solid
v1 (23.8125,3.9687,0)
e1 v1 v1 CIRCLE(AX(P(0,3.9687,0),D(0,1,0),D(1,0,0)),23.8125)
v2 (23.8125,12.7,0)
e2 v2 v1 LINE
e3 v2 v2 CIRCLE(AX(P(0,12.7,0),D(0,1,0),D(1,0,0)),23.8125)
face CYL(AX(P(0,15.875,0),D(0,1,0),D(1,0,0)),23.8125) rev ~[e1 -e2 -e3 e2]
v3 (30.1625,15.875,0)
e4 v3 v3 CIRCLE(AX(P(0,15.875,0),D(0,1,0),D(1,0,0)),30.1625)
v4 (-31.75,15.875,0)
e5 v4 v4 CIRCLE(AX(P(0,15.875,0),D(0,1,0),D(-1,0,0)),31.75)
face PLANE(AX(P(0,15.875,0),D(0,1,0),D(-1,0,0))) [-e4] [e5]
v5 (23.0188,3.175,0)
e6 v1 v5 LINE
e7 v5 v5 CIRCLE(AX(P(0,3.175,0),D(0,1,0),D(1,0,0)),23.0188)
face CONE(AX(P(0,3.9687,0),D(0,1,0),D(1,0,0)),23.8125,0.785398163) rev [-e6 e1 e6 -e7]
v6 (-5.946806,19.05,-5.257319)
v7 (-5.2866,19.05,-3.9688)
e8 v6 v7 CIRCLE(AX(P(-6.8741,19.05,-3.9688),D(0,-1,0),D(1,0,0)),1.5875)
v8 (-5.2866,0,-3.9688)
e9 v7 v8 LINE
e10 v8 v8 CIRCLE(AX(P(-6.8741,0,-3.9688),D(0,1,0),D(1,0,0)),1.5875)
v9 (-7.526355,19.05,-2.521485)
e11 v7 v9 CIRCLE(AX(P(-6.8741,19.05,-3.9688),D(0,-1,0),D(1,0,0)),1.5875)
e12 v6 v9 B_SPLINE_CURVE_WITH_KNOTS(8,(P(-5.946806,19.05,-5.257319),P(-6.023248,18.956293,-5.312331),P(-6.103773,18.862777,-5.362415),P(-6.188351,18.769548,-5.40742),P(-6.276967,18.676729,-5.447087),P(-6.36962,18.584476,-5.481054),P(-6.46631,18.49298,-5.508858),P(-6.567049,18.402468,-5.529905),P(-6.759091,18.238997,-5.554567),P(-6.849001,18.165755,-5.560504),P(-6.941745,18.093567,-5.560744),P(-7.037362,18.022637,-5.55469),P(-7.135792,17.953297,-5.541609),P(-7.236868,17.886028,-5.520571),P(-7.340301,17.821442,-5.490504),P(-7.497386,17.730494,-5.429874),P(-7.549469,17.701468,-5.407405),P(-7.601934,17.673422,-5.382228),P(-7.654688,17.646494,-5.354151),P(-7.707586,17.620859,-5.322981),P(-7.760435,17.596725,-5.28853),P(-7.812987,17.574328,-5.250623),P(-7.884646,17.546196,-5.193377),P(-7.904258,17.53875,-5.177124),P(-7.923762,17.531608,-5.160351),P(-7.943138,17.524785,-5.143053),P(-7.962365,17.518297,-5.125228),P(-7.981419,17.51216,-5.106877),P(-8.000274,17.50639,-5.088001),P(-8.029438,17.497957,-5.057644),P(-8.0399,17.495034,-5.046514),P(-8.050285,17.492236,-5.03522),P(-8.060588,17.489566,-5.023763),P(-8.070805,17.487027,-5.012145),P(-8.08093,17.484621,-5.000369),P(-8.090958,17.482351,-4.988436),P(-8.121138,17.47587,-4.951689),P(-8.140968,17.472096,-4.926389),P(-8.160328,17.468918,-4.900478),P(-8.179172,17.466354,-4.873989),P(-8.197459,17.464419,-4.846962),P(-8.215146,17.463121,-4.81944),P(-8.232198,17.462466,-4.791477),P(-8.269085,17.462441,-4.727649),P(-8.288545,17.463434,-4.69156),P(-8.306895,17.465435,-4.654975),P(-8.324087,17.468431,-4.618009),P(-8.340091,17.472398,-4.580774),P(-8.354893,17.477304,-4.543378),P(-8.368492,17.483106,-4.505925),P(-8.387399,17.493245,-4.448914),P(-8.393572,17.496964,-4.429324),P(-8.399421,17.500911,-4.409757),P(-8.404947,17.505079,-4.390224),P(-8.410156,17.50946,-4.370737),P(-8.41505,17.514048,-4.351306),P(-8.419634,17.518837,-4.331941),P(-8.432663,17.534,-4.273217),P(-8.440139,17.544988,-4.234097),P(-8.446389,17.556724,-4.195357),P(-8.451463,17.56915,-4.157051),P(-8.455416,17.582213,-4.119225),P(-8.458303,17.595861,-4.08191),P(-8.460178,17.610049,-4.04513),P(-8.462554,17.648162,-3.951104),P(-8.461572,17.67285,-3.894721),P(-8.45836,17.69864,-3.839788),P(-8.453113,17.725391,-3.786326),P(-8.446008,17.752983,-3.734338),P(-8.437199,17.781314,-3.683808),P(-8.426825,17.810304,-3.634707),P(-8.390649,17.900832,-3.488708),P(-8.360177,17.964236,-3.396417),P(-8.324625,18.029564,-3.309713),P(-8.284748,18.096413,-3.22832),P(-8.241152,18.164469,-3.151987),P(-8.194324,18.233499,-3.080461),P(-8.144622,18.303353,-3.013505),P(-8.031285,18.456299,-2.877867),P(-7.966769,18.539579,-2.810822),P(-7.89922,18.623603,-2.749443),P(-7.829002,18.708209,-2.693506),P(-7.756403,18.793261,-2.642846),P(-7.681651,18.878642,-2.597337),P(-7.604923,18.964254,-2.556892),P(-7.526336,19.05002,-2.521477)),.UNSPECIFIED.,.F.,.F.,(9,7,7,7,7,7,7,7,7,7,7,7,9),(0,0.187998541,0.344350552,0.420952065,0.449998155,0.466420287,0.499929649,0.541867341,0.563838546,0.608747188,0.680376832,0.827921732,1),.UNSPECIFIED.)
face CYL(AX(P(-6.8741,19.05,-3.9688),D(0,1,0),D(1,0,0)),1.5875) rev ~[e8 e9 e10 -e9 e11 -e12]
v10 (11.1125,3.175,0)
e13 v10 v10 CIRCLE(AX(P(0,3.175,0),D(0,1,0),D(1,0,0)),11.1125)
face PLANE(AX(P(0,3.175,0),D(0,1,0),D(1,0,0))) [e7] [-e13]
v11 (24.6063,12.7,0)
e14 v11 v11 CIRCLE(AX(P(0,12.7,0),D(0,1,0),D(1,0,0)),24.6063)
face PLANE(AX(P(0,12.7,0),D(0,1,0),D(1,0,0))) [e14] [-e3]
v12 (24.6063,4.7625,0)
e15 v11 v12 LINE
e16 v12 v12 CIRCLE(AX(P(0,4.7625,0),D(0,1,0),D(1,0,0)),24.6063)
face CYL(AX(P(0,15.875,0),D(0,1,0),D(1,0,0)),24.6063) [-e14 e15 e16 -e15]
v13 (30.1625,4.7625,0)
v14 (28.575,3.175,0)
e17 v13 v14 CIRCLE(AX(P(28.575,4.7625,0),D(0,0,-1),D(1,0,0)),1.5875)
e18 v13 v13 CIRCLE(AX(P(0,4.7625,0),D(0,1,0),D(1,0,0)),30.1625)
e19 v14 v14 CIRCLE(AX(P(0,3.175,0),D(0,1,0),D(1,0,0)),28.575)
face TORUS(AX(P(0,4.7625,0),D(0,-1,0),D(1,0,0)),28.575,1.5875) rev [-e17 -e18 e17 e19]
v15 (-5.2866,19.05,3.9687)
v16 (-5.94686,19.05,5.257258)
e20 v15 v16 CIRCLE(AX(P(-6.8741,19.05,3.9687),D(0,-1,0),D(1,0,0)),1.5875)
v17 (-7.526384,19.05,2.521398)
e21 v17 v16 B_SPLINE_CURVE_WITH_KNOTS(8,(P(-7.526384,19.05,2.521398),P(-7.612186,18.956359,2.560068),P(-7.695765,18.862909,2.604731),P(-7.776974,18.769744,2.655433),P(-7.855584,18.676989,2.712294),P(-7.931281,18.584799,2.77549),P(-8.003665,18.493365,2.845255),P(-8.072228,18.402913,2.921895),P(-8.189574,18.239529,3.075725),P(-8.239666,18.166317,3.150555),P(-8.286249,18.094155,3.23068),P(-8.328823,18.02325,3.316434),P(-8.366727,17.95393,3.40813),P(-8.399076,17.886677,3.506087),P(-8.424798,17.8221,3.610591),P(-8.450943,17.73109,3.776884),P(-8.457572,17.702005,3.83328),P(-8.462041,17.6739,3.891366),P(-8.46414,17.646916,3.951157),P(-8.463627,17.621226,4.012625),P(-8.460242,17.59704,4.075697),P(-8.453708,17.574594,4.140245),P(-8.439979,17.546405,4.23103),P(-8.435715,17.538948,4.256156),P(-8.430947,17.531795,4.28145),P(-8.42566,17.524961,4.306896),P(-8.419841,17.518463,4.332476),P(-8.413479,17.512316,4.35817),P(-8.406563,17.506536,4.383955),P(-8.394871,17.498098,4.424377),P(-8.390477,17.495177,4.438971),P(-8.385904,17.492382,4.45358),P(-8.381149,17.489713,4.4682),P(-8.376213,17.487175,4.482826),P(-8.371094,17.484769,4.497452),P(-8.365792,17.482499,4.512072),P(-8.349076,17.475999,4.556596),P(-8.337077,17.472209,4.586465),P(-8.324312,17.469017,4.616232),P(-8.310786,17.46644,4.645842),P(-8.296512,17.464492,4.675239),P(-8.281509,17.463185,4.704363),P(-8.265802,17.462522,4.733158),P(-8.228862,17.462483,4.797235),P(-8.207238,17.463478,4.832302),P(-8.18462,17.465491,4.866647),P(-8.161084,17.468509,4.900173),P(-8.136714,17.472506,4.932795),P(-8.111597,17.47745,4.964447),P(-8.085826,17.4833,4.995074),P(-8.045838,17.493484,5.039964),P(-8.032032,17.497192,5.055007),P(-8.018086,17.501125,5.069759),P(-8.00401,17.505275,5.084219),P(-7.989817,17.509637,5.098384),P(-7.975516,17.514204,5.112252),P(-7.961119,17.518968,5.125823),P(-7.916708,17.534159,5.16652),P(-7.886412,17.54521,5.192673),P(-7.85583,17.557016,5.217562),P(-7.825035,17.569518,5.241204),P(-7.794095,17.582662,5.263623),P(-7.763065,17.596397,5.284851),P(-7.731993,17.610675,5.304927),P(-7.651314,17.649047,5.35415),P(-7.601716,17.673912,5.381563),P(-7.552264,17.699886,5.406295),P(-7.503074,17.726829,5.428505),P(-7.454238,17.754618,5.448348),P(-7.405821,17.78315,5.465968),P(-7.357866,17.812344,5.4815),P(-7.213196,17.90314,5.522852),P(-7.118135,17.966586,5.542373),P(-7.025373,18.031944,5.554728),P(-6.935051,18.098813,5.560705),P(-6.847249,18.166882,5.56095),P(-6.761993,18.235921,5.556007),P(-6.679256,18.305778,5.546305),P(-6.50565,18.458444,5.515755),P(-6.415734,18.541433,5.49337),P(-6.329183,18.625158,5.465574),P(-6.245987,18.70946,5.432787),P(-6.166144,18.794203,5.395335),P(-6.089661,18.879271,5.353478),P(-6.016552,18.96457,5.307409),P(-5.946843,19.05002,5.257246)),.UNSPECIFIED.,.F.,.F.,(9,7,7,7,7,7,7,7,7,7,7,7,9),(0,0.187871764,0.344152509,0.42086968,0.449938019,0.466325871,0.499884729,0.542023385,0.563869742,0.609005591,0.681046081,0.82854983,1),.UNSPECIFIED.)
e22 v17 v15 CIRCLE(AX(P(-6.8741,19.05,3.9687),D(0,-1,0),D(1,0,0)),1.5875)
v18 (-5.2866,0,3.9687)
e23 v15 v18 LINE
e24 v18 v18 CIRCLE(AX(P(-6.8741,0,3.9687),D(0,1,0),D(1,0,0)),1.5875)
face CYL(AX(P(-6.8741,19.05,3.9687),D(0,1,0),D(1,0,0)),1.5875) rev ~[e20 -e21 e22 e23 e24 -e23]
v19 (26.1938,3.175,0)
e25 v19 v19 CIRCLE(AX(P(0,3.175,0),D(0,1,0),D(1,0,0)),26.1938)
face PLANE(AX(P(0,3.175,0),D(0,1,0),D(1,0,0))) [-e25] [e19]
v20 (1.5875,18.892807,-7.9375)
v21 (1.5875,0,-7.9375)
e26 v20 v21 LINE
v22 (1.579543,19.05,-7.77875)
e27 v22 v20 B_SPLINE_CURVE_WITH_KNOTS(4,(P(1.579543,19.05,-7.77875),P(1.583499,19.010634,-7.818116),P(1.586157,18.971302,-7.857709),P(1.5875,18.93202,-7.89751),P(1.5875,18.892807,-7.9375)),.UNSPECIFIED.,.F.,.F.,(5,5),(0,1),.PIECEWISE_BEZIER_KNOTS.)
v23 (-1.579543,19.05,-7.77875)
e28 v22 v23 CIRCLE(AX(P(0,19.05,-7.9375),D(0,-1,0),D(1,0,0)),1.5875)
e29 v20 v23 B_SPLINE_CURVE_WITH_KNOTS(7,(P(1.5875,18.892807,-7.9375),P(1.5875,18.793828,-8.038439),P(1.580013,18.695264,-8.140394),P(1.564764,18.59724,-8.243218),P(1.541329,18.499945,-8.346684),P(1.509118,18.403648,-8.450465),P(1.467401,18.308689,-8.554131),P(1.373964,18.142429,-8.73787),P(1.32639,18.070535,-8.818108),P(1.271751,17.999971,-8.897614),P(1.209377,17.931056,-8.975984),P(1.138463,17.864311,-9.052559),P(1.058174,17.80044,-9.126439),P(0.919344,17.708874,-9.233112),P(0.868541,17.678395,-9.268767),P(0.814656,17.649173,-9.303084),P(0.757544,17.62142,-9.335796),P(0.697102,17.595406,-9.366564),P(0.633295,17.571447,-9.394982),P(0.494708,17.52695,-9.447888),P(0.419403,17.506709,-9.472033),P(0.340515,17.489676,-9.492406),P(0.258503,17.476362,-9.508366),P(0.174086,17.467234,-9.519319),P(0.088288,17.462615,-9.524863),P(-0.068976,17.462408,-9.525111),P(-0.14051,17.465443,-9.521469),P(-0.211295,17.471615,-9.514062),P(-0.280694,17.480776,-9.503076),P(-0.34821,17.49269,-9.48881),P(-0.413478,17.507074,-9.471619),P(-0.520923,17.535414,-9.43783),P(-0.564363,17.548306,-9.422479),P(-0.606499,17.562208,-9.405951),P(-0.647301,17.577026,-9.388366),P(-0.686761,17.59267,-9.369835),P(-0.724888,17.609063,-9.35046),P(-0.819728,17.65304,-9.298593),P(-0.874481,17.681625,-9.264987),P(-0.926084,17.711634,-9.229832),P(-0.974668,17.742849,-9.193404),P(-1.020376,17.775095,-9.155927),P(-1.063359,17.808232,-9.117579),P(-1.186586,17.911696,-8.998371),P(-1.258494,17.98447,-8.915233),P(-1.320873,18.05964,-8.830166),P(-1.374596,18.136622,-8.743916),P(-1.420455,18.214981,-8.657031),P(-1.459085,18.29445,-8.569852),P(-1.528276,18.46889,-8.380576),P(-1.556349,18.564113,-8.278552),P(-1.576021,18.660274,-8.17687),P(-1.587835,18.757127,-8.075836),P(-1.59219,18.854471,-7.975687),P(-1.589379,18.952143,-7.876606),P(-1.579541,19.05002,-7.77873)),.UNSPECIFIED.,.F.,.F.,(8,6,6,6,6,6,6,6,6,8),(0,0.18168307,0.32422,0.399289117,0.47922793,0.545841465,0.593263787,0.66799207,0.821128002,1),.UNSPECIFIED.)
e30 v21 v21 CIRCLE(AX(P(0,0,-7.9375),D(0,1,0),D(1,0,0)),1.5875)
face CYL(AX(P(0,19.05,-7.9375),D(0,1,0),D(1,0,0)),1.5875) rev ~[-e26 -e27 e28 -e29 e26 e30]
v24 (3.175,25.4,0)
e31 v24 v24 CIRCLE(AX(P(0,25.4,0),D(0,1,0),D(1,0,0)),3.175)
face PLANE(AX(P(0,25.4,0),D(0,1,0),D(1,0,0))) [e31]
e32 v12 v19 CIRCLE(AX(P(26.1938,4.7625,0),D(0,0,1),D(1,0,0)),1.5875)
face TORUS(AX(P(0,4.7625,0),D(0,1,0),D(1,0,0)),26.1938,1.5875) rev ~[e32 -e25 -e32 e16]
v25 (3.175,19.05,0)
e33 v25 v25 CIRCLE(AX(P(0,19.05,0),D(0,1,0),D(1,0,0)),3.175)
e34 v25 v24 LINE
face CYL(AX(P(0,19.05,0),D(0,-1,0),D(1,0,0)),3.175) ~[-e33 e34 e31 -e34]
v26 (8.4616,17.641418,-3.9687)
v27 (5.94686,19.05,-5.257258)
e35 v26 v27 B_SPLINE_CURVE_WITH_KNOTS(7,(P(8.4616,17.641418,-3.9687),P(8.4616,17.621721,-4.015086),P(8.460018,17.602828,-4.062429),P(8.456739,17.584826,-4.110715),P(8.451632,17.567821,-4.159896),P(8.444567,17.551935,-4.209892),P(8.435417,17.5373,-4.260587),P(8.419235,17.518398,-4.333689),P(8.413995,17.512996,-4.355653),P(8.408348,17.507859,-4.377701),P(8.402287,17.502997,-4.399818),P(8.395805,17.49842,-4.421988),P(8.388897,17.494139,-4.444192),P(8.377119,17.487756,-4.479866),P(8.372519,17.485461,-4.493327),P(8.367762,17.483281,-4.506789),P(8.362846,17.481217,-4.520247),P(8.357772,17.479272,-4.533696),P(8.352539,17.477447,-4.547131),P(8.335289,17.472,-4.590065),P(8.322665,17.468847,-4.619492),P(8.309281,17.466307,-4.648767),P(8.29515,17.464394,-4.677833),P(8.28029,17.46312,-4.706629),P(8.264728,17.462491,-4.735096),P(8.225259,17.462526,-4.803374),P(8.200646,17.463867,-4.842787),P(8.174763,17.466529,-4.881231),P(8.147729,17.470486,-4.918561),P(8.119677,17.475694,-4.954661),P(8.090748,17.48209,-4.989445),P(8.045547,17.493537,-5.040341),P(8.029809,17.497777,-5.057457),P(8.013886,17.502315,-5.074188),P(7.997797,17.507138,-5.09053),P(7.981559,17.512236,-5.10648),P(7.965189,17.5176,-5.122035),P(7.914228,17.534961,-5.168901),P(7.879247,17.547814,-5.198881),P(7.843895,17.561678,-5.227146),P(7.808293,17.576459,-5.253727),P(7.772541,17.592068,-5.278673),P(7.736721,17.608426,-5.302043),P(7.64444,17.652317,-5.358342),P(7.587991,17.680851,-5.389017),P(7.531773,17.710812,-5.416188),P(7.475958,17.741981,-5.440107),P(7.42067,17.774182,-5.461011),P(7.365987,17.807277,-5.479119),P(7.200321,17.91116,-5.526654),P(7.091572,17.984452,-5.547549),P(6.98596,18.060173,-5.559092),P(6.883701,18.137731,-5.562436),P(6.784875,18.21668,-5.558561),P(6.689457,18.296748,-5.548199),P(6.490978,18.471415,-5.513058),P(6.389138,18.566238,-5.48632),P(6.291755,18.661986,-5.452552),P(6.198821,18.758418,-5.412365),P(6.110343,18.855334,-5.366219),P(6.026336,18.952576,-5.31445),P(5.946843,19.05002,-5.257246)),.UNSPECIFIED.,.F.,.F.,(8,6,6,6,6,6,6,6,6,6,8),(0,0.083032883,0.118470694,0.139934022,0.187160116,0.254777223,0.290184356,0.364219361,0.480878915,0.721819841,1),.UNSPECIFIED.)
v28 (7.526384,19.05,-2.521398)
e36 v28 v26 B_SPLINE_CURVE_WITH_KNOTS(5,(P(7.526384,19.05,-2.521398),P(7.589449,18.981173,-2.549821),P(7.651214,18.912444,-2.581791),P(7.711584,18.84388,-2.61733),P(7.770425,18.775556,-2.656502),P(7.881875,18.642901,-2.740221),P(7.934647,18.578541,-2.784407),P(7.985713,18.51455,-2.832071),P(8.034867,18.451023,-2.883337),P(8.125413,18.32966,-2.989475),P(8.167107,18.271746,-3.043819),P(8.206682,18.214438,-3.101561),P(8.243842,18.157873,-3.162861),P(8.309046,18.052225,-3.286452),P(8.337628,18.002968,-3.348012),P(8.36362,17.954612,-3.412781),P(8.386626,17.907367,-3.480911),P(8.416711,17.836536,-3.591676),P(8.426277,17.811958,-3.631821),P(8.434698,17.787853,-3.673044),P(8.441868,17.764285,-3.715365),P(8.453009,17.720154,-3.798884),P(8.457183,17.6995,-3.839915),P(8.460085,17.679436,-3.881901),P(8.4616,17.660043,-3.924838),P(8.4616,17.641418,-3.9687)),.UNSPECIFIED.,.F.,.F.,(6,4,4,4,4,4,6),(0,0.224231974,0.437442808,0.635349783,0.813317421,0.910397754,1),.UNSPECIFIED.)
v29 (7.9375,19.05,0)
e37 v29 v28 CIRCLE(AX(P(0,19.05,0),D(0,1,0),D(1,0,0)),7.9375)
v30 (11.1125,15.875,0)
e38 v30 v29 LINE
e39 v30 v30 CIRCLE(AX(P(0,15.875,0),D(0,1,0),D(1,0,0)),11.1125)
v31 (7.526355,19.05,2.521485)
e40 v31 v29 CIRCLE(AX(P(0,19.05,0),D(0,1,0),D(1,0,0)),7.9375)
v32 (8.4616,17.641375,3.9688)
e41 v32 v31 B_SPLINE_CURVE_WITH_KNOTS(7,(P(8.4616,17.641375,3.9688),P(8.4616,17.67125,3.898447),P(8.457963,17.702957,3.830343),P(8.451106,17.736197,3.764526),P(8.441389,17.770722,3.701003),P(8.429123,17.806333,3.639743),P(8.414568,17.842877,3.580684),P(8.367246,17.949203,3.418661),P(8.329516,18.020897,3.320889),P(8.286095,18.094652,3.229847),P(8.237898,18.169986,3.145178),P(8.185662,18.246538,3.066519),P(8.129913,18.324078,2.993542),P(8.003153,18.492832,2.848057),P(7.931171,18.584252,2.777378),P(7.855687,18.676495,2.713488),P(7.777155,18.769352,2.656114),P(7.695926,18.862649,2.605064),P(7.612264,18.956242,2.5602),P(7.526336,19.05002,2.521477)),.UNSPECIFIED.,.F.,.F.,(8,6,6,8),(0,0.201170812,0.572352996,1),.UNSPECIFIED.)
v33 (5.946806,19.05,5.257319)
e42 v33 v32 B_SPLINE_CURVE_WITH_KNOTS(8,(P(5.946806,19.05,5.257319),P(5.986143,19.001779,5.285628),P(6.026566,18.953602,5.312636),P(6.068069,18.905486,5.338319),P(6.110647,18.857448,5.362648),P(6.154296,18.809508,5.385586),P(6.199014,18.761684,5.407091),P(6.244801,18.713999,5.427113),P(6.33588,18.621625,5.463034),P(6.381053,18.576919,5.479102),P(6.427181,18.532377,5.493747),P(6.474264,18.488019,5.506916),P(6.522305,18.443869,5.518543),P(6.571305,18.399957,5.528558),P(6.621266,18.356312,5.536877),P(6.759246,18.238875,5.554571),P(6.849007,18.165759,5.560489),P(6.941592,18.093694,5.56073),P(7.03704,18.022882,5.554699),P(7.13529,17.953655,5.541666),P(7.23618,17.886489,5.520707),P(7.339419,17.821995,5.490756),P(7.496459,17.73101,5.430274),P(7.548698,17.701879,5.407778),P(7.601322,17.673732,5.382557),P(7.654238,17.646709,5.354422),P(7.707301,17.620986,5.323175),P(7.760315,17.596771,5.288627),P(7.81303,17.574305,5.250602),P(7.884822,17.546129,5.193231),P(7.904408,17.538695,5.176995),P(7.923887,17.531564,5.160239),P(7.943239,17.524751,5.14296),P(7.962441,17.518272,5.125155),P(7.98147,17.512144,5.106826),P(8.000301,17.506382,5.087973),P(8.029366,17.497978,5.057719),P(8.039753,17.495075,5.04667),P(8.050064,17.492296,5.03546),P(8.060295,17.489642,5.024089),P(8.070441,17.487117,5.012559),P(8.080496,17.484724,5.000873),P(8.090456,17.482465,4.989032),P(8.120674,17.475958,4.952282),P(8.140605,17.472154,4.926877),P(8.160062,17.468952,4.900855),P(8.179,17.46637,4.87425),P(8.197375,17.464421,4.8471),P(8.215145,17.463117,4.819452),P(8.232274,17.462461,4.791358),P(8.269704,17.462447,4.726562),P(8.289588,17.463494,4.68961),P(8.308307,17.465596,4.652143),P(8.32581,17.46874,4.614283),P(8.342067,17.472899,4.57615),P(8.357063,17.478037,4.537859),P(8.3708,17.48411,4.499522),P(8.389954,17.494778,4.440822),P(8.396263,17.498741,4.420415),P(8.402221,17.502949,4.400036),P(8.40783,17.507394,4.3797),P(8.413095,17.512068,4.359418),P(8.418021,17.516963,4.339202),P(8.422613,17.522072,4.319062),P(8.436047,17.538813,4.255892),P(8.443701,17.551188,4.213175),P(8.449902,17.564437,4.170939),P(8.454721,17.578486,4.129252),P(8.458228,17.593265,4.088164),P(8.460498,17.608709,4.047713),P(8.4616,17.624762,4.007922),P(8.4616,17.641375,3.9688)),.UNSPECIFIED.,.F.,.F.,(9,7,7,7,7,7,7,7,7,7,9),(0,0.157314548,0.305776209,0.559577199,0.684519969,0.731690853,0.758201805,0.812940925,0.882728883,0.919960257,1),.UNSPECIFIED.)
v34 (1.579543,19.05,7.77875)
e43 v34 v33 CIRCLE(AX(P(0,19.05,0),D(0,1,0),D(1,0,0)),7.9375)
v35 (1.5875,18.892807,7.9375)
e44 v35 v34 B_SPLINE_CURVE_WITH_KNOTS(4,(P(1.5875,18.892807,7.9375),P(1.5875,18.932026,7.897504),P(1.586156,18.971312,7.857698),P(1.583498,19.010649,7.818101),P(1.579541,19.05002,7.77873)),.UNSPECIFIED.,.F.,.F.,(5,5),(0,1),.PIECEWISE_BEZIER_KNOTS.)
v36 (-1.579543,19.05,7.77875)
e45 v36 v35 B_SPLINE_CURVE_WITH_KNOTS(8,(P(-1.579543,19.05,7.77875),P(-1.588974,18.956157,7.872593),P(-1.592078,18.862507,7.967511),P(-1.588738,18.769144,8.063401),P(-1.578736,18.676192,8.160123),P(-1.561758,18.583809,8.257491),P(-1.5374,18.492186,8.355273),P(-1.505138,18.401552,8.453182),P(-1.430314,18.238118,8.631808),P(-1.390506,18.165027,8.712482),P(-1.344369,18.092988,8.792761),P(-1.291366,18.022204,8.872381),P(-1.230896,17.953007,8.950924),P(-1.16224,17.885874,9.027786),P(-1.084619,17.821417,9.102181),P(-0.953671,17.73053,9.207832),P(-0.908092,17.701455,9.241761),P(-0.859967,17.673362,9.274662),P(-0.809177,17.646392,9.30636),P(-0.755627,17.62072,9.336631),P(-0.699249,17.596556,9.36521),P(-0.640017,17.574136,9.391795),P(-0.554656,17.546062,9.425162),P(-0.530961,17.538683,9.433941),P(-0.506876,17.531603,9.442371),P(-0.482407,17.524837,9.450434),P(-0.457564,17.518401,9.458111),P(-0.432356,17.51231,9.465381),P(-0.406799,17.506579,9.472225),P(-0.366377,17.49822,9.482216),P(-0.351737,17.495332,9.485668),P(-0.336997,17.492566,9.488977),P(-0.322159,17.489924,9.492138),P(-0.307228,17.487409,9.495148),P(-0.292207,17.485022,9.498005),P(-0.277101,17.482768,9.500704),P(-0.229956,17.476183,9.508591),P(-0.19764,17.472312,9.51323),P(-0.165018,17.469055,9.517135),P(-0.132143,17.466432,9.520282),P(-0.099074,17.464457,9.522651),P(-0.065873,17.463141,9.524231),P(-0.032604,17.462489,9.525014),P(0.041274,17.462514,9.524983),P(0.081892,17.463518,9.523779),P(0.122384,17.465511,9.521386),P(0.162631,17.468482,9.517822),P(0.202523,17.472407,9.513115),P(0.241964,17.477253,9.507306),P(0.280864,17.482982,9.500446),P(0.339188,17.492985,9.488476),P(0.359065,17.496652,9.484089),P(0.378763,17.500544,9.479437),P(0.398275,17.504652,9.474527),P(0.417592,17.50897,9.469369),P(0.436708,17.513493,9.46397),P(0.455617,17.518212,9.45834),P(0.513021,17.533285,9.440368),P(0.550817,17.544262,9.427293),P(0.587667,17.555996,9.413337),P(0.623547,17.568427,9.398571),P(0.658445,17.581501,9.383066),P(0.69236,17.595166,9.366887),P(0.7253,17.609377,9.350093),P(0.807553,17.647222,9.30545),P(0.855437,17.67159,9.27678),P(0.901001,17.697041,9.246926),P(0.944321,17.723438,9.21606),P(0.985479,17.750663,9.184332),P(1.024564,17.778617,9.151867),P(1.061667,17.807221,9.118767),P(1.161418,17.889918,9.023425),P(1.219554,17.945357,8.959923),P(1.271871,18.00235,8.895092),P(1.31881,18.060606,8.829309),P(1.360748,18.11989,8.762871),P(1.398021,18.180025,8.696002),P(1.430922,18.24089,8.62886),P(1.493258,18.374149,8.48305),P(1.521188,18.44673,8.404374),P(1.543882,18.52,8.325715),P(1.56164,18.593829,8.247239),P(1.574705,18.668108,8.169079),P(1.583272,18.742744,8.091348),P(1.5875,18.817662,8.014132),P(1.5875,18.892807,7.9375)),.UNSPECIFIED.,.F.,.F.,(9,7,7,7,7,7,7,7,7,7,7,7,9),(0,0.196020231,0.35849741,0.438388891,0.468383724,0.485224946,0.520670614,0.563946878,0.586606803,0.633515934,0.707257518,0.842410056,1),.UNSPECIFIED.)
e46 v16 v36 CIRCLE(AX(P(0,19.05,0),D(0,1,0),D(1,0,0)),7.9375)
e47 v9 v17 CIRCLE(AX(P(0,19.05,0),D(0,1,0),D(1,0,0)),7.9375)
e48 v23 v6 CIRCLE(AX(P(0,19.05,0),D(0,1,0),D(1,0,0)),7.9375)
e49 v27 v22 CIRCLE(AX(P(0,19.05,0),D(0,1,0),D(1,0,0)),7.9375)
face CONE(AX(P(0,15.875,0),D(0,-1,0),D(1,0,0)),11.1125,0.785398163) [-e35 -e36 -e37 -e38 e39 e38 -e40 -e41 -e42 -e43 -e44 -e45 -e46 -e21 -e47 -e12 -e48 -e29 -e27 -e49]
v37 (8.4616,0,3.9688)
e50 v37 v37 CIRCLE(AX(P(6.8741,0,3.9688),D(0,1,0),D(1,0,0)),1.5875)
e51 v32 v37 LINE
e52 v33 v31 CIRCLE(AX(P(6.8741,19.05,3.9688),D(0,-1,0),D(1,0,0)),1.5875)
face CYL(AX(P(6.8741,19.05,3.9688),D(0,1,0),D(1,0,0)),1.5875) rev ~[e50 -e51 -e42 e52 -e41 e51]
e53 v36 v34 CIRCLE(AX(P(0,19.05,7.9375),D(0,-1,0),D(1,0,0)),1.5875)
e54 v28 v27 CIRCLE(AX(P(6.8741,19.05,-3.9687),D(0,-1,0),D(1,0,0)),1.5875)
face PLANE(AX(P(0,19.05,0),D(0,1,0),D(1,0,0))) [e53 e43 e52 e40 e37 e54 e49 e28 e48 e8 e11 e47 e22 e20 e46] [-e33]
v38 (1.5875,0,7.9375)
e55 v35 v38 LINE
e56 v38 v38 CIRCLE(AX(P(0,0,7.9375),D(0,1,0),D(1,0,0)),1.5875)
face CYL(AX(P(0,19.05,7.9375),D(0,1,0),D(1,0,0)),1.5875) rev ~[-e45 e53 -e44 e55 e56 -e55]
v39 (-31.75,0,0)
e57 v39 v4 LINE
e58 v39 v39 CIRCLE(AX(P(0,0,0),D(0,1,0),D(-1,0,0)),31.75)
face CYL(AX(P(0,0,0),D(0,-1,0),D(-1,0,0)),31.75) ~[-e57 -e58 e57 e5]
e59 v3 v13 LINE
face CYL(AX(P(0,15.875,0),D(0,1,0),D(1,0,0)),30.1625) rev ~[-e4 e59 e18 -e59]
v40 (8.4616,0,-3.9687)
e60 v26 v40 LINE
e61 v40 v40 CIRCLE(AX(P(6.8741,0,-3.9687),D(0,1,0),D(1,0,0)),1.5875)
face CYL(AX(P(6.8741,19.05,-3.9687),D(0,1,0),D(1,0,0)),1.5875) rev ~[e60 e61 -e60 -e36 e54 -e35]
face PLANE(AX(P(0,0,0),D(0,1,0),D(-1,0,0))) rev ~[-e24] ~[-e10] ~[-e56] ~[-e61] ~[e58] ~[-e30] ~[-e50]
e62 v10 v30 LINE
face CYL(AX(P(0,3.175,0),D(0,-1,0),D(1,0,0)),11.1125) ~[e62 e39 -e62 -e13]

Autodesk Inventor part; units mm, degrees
ref_plane "YZ Plane" through (0, 0, 0) normal (1, 0, 0) x (0, 1, 0)
ref_plane "XZ Plane" through (0, 0, 0) normal (0, 1, 0) x (-1, 0, 0)
ref_plane "XY Plane" through (0, 0, 0) normal (0, 0, 1) x (1, 0, 0)
sketch "Sketch1" plane through (0, 0, 0) normal (0, 1, 0) x (-1, 0, 0)
  point P0 (0, 0)
sketch "Sketch2" plane through (0, 0, 0) normal (0, 1, 0) x (-1, 0, 0)
  circle A0 centre (0, 0) radius 31.75
  dimension "d0" = 63.5
extrude "Extrusion1" add sketch "Sketch2" along normal blind 15.875
sketch "Sketch3" plane through (0, 15.875, 0) normal (0, 1, 0) x (1, 0, 0)
  circle A0 centre (0, 0) radius 23.8125
  dimension "d3" = 47.625
extrude "Extrusion2" cut sketch "Sketch3" against normal blind 12.7
chamfer "Chamfer1" distance 0.7937 angle 45 1 edges at (-23.8125, 3.175, 0)
sketch "Sketch4" plane through (0, 3.175, 0) normal (0, 1, 0) x (1, 0, 0)
  circle A0 centre (0, 0) radius 11.1125
  dimension "d12" = 22.225
extrude "Extrusion3" add sketch "Sketch4" along normal blind 15.875
sketch "Sketch5" plane through (0, 19.05, 0) normal (0, 1, 0) x (1, 0, 0)
  circle A0 centre (0, 0) radius 3.175
  dimension "d15" = 6.35
extrude "Extrusion4" add sketch "Sketch5" along normal blind 6.35
chamfer "Chamfer3" distance 3.175 angle 45 1 edges at (-11.1125, 19.05, 0)
sketch "Sketch6" plane through (0, 19.05, 0) normal (0, 1, 0) x (1, 0, 0)
  circle A0 centre (0, 0) radius 7.9375 construction
  circle A1 centre (0, 0) radius 7.9375 projected
  circle A2 centre (0, 7.9375) radius 1.5875
  line L0 (0, 0) -> (0, 7.9375) construction
  circle A3 centre (-6.8741, 3.9688) radius 1.5875
  circle A4 centre (-6.8741, -3.9687) radius 1.5875
  circle A5 centre (0, -7.9375) radius 1.5875
  circle A6 centre (6.8741, -3.9688) radius 1.5875
  circle A7 centre (6.8741, 3.9687) radius 1.5875
  dimension "d21" = 15.875
  dimension "d22" = 3.175
  dimension "d25" = 360
extrude "Extrusion5" cut sketch "Sketch6" against normal through all contours A7 A1 | A1 A7 | A6 A1 | A1 A6 | A2 A1 | A1 A2 | A5 A1 | A1 A5 | A3 A1 | A1 A3 | A4 A1 | A1 A4
sketch "Sketch8" plane through (0, 15.875, 0) normal (0, 1, 0) x (1, 0, 0)
  circle A0 centre (0, 0) radius 23.8125
  circle A1 centre (0, 0) radius 24.6063
  circle A2 centre (0, 0) radius 23.8125 projected
  circle A3 centre (0, 0) radius 31.75 projected
  circle A4 centre (0, 0) radius 3.175 projected
  circle A5 centre (0, 0) radius 30.1625
  dimension "d38" = 0.7937
  dimension "d39" = 47.625
  dimension "d40" = 1.5875
extrude "Extrusion7" cut sketch "Sketch8" against normal blind 12.7 contours A5
fillet "Fillet1" radius 1.5875 2 edges at (-24.6063, 3.175, 0) (-30.1625, 3.175, 0)
sketch "Sketch9" plane through (0, 15.875, 0) normal (0, 1, 0) x (1, 0, 0)
  circle A0 centre (0, 0) radius 19.05
  circle A1 centre (0, 0) radius 25.4
  dimension "d44" = 38.1
  dimension "d45" = 50.8
extrude "Extrusion8" cut sketch "Sketch9" against normal blind 3.175
properties part number "Wheel Mold"
